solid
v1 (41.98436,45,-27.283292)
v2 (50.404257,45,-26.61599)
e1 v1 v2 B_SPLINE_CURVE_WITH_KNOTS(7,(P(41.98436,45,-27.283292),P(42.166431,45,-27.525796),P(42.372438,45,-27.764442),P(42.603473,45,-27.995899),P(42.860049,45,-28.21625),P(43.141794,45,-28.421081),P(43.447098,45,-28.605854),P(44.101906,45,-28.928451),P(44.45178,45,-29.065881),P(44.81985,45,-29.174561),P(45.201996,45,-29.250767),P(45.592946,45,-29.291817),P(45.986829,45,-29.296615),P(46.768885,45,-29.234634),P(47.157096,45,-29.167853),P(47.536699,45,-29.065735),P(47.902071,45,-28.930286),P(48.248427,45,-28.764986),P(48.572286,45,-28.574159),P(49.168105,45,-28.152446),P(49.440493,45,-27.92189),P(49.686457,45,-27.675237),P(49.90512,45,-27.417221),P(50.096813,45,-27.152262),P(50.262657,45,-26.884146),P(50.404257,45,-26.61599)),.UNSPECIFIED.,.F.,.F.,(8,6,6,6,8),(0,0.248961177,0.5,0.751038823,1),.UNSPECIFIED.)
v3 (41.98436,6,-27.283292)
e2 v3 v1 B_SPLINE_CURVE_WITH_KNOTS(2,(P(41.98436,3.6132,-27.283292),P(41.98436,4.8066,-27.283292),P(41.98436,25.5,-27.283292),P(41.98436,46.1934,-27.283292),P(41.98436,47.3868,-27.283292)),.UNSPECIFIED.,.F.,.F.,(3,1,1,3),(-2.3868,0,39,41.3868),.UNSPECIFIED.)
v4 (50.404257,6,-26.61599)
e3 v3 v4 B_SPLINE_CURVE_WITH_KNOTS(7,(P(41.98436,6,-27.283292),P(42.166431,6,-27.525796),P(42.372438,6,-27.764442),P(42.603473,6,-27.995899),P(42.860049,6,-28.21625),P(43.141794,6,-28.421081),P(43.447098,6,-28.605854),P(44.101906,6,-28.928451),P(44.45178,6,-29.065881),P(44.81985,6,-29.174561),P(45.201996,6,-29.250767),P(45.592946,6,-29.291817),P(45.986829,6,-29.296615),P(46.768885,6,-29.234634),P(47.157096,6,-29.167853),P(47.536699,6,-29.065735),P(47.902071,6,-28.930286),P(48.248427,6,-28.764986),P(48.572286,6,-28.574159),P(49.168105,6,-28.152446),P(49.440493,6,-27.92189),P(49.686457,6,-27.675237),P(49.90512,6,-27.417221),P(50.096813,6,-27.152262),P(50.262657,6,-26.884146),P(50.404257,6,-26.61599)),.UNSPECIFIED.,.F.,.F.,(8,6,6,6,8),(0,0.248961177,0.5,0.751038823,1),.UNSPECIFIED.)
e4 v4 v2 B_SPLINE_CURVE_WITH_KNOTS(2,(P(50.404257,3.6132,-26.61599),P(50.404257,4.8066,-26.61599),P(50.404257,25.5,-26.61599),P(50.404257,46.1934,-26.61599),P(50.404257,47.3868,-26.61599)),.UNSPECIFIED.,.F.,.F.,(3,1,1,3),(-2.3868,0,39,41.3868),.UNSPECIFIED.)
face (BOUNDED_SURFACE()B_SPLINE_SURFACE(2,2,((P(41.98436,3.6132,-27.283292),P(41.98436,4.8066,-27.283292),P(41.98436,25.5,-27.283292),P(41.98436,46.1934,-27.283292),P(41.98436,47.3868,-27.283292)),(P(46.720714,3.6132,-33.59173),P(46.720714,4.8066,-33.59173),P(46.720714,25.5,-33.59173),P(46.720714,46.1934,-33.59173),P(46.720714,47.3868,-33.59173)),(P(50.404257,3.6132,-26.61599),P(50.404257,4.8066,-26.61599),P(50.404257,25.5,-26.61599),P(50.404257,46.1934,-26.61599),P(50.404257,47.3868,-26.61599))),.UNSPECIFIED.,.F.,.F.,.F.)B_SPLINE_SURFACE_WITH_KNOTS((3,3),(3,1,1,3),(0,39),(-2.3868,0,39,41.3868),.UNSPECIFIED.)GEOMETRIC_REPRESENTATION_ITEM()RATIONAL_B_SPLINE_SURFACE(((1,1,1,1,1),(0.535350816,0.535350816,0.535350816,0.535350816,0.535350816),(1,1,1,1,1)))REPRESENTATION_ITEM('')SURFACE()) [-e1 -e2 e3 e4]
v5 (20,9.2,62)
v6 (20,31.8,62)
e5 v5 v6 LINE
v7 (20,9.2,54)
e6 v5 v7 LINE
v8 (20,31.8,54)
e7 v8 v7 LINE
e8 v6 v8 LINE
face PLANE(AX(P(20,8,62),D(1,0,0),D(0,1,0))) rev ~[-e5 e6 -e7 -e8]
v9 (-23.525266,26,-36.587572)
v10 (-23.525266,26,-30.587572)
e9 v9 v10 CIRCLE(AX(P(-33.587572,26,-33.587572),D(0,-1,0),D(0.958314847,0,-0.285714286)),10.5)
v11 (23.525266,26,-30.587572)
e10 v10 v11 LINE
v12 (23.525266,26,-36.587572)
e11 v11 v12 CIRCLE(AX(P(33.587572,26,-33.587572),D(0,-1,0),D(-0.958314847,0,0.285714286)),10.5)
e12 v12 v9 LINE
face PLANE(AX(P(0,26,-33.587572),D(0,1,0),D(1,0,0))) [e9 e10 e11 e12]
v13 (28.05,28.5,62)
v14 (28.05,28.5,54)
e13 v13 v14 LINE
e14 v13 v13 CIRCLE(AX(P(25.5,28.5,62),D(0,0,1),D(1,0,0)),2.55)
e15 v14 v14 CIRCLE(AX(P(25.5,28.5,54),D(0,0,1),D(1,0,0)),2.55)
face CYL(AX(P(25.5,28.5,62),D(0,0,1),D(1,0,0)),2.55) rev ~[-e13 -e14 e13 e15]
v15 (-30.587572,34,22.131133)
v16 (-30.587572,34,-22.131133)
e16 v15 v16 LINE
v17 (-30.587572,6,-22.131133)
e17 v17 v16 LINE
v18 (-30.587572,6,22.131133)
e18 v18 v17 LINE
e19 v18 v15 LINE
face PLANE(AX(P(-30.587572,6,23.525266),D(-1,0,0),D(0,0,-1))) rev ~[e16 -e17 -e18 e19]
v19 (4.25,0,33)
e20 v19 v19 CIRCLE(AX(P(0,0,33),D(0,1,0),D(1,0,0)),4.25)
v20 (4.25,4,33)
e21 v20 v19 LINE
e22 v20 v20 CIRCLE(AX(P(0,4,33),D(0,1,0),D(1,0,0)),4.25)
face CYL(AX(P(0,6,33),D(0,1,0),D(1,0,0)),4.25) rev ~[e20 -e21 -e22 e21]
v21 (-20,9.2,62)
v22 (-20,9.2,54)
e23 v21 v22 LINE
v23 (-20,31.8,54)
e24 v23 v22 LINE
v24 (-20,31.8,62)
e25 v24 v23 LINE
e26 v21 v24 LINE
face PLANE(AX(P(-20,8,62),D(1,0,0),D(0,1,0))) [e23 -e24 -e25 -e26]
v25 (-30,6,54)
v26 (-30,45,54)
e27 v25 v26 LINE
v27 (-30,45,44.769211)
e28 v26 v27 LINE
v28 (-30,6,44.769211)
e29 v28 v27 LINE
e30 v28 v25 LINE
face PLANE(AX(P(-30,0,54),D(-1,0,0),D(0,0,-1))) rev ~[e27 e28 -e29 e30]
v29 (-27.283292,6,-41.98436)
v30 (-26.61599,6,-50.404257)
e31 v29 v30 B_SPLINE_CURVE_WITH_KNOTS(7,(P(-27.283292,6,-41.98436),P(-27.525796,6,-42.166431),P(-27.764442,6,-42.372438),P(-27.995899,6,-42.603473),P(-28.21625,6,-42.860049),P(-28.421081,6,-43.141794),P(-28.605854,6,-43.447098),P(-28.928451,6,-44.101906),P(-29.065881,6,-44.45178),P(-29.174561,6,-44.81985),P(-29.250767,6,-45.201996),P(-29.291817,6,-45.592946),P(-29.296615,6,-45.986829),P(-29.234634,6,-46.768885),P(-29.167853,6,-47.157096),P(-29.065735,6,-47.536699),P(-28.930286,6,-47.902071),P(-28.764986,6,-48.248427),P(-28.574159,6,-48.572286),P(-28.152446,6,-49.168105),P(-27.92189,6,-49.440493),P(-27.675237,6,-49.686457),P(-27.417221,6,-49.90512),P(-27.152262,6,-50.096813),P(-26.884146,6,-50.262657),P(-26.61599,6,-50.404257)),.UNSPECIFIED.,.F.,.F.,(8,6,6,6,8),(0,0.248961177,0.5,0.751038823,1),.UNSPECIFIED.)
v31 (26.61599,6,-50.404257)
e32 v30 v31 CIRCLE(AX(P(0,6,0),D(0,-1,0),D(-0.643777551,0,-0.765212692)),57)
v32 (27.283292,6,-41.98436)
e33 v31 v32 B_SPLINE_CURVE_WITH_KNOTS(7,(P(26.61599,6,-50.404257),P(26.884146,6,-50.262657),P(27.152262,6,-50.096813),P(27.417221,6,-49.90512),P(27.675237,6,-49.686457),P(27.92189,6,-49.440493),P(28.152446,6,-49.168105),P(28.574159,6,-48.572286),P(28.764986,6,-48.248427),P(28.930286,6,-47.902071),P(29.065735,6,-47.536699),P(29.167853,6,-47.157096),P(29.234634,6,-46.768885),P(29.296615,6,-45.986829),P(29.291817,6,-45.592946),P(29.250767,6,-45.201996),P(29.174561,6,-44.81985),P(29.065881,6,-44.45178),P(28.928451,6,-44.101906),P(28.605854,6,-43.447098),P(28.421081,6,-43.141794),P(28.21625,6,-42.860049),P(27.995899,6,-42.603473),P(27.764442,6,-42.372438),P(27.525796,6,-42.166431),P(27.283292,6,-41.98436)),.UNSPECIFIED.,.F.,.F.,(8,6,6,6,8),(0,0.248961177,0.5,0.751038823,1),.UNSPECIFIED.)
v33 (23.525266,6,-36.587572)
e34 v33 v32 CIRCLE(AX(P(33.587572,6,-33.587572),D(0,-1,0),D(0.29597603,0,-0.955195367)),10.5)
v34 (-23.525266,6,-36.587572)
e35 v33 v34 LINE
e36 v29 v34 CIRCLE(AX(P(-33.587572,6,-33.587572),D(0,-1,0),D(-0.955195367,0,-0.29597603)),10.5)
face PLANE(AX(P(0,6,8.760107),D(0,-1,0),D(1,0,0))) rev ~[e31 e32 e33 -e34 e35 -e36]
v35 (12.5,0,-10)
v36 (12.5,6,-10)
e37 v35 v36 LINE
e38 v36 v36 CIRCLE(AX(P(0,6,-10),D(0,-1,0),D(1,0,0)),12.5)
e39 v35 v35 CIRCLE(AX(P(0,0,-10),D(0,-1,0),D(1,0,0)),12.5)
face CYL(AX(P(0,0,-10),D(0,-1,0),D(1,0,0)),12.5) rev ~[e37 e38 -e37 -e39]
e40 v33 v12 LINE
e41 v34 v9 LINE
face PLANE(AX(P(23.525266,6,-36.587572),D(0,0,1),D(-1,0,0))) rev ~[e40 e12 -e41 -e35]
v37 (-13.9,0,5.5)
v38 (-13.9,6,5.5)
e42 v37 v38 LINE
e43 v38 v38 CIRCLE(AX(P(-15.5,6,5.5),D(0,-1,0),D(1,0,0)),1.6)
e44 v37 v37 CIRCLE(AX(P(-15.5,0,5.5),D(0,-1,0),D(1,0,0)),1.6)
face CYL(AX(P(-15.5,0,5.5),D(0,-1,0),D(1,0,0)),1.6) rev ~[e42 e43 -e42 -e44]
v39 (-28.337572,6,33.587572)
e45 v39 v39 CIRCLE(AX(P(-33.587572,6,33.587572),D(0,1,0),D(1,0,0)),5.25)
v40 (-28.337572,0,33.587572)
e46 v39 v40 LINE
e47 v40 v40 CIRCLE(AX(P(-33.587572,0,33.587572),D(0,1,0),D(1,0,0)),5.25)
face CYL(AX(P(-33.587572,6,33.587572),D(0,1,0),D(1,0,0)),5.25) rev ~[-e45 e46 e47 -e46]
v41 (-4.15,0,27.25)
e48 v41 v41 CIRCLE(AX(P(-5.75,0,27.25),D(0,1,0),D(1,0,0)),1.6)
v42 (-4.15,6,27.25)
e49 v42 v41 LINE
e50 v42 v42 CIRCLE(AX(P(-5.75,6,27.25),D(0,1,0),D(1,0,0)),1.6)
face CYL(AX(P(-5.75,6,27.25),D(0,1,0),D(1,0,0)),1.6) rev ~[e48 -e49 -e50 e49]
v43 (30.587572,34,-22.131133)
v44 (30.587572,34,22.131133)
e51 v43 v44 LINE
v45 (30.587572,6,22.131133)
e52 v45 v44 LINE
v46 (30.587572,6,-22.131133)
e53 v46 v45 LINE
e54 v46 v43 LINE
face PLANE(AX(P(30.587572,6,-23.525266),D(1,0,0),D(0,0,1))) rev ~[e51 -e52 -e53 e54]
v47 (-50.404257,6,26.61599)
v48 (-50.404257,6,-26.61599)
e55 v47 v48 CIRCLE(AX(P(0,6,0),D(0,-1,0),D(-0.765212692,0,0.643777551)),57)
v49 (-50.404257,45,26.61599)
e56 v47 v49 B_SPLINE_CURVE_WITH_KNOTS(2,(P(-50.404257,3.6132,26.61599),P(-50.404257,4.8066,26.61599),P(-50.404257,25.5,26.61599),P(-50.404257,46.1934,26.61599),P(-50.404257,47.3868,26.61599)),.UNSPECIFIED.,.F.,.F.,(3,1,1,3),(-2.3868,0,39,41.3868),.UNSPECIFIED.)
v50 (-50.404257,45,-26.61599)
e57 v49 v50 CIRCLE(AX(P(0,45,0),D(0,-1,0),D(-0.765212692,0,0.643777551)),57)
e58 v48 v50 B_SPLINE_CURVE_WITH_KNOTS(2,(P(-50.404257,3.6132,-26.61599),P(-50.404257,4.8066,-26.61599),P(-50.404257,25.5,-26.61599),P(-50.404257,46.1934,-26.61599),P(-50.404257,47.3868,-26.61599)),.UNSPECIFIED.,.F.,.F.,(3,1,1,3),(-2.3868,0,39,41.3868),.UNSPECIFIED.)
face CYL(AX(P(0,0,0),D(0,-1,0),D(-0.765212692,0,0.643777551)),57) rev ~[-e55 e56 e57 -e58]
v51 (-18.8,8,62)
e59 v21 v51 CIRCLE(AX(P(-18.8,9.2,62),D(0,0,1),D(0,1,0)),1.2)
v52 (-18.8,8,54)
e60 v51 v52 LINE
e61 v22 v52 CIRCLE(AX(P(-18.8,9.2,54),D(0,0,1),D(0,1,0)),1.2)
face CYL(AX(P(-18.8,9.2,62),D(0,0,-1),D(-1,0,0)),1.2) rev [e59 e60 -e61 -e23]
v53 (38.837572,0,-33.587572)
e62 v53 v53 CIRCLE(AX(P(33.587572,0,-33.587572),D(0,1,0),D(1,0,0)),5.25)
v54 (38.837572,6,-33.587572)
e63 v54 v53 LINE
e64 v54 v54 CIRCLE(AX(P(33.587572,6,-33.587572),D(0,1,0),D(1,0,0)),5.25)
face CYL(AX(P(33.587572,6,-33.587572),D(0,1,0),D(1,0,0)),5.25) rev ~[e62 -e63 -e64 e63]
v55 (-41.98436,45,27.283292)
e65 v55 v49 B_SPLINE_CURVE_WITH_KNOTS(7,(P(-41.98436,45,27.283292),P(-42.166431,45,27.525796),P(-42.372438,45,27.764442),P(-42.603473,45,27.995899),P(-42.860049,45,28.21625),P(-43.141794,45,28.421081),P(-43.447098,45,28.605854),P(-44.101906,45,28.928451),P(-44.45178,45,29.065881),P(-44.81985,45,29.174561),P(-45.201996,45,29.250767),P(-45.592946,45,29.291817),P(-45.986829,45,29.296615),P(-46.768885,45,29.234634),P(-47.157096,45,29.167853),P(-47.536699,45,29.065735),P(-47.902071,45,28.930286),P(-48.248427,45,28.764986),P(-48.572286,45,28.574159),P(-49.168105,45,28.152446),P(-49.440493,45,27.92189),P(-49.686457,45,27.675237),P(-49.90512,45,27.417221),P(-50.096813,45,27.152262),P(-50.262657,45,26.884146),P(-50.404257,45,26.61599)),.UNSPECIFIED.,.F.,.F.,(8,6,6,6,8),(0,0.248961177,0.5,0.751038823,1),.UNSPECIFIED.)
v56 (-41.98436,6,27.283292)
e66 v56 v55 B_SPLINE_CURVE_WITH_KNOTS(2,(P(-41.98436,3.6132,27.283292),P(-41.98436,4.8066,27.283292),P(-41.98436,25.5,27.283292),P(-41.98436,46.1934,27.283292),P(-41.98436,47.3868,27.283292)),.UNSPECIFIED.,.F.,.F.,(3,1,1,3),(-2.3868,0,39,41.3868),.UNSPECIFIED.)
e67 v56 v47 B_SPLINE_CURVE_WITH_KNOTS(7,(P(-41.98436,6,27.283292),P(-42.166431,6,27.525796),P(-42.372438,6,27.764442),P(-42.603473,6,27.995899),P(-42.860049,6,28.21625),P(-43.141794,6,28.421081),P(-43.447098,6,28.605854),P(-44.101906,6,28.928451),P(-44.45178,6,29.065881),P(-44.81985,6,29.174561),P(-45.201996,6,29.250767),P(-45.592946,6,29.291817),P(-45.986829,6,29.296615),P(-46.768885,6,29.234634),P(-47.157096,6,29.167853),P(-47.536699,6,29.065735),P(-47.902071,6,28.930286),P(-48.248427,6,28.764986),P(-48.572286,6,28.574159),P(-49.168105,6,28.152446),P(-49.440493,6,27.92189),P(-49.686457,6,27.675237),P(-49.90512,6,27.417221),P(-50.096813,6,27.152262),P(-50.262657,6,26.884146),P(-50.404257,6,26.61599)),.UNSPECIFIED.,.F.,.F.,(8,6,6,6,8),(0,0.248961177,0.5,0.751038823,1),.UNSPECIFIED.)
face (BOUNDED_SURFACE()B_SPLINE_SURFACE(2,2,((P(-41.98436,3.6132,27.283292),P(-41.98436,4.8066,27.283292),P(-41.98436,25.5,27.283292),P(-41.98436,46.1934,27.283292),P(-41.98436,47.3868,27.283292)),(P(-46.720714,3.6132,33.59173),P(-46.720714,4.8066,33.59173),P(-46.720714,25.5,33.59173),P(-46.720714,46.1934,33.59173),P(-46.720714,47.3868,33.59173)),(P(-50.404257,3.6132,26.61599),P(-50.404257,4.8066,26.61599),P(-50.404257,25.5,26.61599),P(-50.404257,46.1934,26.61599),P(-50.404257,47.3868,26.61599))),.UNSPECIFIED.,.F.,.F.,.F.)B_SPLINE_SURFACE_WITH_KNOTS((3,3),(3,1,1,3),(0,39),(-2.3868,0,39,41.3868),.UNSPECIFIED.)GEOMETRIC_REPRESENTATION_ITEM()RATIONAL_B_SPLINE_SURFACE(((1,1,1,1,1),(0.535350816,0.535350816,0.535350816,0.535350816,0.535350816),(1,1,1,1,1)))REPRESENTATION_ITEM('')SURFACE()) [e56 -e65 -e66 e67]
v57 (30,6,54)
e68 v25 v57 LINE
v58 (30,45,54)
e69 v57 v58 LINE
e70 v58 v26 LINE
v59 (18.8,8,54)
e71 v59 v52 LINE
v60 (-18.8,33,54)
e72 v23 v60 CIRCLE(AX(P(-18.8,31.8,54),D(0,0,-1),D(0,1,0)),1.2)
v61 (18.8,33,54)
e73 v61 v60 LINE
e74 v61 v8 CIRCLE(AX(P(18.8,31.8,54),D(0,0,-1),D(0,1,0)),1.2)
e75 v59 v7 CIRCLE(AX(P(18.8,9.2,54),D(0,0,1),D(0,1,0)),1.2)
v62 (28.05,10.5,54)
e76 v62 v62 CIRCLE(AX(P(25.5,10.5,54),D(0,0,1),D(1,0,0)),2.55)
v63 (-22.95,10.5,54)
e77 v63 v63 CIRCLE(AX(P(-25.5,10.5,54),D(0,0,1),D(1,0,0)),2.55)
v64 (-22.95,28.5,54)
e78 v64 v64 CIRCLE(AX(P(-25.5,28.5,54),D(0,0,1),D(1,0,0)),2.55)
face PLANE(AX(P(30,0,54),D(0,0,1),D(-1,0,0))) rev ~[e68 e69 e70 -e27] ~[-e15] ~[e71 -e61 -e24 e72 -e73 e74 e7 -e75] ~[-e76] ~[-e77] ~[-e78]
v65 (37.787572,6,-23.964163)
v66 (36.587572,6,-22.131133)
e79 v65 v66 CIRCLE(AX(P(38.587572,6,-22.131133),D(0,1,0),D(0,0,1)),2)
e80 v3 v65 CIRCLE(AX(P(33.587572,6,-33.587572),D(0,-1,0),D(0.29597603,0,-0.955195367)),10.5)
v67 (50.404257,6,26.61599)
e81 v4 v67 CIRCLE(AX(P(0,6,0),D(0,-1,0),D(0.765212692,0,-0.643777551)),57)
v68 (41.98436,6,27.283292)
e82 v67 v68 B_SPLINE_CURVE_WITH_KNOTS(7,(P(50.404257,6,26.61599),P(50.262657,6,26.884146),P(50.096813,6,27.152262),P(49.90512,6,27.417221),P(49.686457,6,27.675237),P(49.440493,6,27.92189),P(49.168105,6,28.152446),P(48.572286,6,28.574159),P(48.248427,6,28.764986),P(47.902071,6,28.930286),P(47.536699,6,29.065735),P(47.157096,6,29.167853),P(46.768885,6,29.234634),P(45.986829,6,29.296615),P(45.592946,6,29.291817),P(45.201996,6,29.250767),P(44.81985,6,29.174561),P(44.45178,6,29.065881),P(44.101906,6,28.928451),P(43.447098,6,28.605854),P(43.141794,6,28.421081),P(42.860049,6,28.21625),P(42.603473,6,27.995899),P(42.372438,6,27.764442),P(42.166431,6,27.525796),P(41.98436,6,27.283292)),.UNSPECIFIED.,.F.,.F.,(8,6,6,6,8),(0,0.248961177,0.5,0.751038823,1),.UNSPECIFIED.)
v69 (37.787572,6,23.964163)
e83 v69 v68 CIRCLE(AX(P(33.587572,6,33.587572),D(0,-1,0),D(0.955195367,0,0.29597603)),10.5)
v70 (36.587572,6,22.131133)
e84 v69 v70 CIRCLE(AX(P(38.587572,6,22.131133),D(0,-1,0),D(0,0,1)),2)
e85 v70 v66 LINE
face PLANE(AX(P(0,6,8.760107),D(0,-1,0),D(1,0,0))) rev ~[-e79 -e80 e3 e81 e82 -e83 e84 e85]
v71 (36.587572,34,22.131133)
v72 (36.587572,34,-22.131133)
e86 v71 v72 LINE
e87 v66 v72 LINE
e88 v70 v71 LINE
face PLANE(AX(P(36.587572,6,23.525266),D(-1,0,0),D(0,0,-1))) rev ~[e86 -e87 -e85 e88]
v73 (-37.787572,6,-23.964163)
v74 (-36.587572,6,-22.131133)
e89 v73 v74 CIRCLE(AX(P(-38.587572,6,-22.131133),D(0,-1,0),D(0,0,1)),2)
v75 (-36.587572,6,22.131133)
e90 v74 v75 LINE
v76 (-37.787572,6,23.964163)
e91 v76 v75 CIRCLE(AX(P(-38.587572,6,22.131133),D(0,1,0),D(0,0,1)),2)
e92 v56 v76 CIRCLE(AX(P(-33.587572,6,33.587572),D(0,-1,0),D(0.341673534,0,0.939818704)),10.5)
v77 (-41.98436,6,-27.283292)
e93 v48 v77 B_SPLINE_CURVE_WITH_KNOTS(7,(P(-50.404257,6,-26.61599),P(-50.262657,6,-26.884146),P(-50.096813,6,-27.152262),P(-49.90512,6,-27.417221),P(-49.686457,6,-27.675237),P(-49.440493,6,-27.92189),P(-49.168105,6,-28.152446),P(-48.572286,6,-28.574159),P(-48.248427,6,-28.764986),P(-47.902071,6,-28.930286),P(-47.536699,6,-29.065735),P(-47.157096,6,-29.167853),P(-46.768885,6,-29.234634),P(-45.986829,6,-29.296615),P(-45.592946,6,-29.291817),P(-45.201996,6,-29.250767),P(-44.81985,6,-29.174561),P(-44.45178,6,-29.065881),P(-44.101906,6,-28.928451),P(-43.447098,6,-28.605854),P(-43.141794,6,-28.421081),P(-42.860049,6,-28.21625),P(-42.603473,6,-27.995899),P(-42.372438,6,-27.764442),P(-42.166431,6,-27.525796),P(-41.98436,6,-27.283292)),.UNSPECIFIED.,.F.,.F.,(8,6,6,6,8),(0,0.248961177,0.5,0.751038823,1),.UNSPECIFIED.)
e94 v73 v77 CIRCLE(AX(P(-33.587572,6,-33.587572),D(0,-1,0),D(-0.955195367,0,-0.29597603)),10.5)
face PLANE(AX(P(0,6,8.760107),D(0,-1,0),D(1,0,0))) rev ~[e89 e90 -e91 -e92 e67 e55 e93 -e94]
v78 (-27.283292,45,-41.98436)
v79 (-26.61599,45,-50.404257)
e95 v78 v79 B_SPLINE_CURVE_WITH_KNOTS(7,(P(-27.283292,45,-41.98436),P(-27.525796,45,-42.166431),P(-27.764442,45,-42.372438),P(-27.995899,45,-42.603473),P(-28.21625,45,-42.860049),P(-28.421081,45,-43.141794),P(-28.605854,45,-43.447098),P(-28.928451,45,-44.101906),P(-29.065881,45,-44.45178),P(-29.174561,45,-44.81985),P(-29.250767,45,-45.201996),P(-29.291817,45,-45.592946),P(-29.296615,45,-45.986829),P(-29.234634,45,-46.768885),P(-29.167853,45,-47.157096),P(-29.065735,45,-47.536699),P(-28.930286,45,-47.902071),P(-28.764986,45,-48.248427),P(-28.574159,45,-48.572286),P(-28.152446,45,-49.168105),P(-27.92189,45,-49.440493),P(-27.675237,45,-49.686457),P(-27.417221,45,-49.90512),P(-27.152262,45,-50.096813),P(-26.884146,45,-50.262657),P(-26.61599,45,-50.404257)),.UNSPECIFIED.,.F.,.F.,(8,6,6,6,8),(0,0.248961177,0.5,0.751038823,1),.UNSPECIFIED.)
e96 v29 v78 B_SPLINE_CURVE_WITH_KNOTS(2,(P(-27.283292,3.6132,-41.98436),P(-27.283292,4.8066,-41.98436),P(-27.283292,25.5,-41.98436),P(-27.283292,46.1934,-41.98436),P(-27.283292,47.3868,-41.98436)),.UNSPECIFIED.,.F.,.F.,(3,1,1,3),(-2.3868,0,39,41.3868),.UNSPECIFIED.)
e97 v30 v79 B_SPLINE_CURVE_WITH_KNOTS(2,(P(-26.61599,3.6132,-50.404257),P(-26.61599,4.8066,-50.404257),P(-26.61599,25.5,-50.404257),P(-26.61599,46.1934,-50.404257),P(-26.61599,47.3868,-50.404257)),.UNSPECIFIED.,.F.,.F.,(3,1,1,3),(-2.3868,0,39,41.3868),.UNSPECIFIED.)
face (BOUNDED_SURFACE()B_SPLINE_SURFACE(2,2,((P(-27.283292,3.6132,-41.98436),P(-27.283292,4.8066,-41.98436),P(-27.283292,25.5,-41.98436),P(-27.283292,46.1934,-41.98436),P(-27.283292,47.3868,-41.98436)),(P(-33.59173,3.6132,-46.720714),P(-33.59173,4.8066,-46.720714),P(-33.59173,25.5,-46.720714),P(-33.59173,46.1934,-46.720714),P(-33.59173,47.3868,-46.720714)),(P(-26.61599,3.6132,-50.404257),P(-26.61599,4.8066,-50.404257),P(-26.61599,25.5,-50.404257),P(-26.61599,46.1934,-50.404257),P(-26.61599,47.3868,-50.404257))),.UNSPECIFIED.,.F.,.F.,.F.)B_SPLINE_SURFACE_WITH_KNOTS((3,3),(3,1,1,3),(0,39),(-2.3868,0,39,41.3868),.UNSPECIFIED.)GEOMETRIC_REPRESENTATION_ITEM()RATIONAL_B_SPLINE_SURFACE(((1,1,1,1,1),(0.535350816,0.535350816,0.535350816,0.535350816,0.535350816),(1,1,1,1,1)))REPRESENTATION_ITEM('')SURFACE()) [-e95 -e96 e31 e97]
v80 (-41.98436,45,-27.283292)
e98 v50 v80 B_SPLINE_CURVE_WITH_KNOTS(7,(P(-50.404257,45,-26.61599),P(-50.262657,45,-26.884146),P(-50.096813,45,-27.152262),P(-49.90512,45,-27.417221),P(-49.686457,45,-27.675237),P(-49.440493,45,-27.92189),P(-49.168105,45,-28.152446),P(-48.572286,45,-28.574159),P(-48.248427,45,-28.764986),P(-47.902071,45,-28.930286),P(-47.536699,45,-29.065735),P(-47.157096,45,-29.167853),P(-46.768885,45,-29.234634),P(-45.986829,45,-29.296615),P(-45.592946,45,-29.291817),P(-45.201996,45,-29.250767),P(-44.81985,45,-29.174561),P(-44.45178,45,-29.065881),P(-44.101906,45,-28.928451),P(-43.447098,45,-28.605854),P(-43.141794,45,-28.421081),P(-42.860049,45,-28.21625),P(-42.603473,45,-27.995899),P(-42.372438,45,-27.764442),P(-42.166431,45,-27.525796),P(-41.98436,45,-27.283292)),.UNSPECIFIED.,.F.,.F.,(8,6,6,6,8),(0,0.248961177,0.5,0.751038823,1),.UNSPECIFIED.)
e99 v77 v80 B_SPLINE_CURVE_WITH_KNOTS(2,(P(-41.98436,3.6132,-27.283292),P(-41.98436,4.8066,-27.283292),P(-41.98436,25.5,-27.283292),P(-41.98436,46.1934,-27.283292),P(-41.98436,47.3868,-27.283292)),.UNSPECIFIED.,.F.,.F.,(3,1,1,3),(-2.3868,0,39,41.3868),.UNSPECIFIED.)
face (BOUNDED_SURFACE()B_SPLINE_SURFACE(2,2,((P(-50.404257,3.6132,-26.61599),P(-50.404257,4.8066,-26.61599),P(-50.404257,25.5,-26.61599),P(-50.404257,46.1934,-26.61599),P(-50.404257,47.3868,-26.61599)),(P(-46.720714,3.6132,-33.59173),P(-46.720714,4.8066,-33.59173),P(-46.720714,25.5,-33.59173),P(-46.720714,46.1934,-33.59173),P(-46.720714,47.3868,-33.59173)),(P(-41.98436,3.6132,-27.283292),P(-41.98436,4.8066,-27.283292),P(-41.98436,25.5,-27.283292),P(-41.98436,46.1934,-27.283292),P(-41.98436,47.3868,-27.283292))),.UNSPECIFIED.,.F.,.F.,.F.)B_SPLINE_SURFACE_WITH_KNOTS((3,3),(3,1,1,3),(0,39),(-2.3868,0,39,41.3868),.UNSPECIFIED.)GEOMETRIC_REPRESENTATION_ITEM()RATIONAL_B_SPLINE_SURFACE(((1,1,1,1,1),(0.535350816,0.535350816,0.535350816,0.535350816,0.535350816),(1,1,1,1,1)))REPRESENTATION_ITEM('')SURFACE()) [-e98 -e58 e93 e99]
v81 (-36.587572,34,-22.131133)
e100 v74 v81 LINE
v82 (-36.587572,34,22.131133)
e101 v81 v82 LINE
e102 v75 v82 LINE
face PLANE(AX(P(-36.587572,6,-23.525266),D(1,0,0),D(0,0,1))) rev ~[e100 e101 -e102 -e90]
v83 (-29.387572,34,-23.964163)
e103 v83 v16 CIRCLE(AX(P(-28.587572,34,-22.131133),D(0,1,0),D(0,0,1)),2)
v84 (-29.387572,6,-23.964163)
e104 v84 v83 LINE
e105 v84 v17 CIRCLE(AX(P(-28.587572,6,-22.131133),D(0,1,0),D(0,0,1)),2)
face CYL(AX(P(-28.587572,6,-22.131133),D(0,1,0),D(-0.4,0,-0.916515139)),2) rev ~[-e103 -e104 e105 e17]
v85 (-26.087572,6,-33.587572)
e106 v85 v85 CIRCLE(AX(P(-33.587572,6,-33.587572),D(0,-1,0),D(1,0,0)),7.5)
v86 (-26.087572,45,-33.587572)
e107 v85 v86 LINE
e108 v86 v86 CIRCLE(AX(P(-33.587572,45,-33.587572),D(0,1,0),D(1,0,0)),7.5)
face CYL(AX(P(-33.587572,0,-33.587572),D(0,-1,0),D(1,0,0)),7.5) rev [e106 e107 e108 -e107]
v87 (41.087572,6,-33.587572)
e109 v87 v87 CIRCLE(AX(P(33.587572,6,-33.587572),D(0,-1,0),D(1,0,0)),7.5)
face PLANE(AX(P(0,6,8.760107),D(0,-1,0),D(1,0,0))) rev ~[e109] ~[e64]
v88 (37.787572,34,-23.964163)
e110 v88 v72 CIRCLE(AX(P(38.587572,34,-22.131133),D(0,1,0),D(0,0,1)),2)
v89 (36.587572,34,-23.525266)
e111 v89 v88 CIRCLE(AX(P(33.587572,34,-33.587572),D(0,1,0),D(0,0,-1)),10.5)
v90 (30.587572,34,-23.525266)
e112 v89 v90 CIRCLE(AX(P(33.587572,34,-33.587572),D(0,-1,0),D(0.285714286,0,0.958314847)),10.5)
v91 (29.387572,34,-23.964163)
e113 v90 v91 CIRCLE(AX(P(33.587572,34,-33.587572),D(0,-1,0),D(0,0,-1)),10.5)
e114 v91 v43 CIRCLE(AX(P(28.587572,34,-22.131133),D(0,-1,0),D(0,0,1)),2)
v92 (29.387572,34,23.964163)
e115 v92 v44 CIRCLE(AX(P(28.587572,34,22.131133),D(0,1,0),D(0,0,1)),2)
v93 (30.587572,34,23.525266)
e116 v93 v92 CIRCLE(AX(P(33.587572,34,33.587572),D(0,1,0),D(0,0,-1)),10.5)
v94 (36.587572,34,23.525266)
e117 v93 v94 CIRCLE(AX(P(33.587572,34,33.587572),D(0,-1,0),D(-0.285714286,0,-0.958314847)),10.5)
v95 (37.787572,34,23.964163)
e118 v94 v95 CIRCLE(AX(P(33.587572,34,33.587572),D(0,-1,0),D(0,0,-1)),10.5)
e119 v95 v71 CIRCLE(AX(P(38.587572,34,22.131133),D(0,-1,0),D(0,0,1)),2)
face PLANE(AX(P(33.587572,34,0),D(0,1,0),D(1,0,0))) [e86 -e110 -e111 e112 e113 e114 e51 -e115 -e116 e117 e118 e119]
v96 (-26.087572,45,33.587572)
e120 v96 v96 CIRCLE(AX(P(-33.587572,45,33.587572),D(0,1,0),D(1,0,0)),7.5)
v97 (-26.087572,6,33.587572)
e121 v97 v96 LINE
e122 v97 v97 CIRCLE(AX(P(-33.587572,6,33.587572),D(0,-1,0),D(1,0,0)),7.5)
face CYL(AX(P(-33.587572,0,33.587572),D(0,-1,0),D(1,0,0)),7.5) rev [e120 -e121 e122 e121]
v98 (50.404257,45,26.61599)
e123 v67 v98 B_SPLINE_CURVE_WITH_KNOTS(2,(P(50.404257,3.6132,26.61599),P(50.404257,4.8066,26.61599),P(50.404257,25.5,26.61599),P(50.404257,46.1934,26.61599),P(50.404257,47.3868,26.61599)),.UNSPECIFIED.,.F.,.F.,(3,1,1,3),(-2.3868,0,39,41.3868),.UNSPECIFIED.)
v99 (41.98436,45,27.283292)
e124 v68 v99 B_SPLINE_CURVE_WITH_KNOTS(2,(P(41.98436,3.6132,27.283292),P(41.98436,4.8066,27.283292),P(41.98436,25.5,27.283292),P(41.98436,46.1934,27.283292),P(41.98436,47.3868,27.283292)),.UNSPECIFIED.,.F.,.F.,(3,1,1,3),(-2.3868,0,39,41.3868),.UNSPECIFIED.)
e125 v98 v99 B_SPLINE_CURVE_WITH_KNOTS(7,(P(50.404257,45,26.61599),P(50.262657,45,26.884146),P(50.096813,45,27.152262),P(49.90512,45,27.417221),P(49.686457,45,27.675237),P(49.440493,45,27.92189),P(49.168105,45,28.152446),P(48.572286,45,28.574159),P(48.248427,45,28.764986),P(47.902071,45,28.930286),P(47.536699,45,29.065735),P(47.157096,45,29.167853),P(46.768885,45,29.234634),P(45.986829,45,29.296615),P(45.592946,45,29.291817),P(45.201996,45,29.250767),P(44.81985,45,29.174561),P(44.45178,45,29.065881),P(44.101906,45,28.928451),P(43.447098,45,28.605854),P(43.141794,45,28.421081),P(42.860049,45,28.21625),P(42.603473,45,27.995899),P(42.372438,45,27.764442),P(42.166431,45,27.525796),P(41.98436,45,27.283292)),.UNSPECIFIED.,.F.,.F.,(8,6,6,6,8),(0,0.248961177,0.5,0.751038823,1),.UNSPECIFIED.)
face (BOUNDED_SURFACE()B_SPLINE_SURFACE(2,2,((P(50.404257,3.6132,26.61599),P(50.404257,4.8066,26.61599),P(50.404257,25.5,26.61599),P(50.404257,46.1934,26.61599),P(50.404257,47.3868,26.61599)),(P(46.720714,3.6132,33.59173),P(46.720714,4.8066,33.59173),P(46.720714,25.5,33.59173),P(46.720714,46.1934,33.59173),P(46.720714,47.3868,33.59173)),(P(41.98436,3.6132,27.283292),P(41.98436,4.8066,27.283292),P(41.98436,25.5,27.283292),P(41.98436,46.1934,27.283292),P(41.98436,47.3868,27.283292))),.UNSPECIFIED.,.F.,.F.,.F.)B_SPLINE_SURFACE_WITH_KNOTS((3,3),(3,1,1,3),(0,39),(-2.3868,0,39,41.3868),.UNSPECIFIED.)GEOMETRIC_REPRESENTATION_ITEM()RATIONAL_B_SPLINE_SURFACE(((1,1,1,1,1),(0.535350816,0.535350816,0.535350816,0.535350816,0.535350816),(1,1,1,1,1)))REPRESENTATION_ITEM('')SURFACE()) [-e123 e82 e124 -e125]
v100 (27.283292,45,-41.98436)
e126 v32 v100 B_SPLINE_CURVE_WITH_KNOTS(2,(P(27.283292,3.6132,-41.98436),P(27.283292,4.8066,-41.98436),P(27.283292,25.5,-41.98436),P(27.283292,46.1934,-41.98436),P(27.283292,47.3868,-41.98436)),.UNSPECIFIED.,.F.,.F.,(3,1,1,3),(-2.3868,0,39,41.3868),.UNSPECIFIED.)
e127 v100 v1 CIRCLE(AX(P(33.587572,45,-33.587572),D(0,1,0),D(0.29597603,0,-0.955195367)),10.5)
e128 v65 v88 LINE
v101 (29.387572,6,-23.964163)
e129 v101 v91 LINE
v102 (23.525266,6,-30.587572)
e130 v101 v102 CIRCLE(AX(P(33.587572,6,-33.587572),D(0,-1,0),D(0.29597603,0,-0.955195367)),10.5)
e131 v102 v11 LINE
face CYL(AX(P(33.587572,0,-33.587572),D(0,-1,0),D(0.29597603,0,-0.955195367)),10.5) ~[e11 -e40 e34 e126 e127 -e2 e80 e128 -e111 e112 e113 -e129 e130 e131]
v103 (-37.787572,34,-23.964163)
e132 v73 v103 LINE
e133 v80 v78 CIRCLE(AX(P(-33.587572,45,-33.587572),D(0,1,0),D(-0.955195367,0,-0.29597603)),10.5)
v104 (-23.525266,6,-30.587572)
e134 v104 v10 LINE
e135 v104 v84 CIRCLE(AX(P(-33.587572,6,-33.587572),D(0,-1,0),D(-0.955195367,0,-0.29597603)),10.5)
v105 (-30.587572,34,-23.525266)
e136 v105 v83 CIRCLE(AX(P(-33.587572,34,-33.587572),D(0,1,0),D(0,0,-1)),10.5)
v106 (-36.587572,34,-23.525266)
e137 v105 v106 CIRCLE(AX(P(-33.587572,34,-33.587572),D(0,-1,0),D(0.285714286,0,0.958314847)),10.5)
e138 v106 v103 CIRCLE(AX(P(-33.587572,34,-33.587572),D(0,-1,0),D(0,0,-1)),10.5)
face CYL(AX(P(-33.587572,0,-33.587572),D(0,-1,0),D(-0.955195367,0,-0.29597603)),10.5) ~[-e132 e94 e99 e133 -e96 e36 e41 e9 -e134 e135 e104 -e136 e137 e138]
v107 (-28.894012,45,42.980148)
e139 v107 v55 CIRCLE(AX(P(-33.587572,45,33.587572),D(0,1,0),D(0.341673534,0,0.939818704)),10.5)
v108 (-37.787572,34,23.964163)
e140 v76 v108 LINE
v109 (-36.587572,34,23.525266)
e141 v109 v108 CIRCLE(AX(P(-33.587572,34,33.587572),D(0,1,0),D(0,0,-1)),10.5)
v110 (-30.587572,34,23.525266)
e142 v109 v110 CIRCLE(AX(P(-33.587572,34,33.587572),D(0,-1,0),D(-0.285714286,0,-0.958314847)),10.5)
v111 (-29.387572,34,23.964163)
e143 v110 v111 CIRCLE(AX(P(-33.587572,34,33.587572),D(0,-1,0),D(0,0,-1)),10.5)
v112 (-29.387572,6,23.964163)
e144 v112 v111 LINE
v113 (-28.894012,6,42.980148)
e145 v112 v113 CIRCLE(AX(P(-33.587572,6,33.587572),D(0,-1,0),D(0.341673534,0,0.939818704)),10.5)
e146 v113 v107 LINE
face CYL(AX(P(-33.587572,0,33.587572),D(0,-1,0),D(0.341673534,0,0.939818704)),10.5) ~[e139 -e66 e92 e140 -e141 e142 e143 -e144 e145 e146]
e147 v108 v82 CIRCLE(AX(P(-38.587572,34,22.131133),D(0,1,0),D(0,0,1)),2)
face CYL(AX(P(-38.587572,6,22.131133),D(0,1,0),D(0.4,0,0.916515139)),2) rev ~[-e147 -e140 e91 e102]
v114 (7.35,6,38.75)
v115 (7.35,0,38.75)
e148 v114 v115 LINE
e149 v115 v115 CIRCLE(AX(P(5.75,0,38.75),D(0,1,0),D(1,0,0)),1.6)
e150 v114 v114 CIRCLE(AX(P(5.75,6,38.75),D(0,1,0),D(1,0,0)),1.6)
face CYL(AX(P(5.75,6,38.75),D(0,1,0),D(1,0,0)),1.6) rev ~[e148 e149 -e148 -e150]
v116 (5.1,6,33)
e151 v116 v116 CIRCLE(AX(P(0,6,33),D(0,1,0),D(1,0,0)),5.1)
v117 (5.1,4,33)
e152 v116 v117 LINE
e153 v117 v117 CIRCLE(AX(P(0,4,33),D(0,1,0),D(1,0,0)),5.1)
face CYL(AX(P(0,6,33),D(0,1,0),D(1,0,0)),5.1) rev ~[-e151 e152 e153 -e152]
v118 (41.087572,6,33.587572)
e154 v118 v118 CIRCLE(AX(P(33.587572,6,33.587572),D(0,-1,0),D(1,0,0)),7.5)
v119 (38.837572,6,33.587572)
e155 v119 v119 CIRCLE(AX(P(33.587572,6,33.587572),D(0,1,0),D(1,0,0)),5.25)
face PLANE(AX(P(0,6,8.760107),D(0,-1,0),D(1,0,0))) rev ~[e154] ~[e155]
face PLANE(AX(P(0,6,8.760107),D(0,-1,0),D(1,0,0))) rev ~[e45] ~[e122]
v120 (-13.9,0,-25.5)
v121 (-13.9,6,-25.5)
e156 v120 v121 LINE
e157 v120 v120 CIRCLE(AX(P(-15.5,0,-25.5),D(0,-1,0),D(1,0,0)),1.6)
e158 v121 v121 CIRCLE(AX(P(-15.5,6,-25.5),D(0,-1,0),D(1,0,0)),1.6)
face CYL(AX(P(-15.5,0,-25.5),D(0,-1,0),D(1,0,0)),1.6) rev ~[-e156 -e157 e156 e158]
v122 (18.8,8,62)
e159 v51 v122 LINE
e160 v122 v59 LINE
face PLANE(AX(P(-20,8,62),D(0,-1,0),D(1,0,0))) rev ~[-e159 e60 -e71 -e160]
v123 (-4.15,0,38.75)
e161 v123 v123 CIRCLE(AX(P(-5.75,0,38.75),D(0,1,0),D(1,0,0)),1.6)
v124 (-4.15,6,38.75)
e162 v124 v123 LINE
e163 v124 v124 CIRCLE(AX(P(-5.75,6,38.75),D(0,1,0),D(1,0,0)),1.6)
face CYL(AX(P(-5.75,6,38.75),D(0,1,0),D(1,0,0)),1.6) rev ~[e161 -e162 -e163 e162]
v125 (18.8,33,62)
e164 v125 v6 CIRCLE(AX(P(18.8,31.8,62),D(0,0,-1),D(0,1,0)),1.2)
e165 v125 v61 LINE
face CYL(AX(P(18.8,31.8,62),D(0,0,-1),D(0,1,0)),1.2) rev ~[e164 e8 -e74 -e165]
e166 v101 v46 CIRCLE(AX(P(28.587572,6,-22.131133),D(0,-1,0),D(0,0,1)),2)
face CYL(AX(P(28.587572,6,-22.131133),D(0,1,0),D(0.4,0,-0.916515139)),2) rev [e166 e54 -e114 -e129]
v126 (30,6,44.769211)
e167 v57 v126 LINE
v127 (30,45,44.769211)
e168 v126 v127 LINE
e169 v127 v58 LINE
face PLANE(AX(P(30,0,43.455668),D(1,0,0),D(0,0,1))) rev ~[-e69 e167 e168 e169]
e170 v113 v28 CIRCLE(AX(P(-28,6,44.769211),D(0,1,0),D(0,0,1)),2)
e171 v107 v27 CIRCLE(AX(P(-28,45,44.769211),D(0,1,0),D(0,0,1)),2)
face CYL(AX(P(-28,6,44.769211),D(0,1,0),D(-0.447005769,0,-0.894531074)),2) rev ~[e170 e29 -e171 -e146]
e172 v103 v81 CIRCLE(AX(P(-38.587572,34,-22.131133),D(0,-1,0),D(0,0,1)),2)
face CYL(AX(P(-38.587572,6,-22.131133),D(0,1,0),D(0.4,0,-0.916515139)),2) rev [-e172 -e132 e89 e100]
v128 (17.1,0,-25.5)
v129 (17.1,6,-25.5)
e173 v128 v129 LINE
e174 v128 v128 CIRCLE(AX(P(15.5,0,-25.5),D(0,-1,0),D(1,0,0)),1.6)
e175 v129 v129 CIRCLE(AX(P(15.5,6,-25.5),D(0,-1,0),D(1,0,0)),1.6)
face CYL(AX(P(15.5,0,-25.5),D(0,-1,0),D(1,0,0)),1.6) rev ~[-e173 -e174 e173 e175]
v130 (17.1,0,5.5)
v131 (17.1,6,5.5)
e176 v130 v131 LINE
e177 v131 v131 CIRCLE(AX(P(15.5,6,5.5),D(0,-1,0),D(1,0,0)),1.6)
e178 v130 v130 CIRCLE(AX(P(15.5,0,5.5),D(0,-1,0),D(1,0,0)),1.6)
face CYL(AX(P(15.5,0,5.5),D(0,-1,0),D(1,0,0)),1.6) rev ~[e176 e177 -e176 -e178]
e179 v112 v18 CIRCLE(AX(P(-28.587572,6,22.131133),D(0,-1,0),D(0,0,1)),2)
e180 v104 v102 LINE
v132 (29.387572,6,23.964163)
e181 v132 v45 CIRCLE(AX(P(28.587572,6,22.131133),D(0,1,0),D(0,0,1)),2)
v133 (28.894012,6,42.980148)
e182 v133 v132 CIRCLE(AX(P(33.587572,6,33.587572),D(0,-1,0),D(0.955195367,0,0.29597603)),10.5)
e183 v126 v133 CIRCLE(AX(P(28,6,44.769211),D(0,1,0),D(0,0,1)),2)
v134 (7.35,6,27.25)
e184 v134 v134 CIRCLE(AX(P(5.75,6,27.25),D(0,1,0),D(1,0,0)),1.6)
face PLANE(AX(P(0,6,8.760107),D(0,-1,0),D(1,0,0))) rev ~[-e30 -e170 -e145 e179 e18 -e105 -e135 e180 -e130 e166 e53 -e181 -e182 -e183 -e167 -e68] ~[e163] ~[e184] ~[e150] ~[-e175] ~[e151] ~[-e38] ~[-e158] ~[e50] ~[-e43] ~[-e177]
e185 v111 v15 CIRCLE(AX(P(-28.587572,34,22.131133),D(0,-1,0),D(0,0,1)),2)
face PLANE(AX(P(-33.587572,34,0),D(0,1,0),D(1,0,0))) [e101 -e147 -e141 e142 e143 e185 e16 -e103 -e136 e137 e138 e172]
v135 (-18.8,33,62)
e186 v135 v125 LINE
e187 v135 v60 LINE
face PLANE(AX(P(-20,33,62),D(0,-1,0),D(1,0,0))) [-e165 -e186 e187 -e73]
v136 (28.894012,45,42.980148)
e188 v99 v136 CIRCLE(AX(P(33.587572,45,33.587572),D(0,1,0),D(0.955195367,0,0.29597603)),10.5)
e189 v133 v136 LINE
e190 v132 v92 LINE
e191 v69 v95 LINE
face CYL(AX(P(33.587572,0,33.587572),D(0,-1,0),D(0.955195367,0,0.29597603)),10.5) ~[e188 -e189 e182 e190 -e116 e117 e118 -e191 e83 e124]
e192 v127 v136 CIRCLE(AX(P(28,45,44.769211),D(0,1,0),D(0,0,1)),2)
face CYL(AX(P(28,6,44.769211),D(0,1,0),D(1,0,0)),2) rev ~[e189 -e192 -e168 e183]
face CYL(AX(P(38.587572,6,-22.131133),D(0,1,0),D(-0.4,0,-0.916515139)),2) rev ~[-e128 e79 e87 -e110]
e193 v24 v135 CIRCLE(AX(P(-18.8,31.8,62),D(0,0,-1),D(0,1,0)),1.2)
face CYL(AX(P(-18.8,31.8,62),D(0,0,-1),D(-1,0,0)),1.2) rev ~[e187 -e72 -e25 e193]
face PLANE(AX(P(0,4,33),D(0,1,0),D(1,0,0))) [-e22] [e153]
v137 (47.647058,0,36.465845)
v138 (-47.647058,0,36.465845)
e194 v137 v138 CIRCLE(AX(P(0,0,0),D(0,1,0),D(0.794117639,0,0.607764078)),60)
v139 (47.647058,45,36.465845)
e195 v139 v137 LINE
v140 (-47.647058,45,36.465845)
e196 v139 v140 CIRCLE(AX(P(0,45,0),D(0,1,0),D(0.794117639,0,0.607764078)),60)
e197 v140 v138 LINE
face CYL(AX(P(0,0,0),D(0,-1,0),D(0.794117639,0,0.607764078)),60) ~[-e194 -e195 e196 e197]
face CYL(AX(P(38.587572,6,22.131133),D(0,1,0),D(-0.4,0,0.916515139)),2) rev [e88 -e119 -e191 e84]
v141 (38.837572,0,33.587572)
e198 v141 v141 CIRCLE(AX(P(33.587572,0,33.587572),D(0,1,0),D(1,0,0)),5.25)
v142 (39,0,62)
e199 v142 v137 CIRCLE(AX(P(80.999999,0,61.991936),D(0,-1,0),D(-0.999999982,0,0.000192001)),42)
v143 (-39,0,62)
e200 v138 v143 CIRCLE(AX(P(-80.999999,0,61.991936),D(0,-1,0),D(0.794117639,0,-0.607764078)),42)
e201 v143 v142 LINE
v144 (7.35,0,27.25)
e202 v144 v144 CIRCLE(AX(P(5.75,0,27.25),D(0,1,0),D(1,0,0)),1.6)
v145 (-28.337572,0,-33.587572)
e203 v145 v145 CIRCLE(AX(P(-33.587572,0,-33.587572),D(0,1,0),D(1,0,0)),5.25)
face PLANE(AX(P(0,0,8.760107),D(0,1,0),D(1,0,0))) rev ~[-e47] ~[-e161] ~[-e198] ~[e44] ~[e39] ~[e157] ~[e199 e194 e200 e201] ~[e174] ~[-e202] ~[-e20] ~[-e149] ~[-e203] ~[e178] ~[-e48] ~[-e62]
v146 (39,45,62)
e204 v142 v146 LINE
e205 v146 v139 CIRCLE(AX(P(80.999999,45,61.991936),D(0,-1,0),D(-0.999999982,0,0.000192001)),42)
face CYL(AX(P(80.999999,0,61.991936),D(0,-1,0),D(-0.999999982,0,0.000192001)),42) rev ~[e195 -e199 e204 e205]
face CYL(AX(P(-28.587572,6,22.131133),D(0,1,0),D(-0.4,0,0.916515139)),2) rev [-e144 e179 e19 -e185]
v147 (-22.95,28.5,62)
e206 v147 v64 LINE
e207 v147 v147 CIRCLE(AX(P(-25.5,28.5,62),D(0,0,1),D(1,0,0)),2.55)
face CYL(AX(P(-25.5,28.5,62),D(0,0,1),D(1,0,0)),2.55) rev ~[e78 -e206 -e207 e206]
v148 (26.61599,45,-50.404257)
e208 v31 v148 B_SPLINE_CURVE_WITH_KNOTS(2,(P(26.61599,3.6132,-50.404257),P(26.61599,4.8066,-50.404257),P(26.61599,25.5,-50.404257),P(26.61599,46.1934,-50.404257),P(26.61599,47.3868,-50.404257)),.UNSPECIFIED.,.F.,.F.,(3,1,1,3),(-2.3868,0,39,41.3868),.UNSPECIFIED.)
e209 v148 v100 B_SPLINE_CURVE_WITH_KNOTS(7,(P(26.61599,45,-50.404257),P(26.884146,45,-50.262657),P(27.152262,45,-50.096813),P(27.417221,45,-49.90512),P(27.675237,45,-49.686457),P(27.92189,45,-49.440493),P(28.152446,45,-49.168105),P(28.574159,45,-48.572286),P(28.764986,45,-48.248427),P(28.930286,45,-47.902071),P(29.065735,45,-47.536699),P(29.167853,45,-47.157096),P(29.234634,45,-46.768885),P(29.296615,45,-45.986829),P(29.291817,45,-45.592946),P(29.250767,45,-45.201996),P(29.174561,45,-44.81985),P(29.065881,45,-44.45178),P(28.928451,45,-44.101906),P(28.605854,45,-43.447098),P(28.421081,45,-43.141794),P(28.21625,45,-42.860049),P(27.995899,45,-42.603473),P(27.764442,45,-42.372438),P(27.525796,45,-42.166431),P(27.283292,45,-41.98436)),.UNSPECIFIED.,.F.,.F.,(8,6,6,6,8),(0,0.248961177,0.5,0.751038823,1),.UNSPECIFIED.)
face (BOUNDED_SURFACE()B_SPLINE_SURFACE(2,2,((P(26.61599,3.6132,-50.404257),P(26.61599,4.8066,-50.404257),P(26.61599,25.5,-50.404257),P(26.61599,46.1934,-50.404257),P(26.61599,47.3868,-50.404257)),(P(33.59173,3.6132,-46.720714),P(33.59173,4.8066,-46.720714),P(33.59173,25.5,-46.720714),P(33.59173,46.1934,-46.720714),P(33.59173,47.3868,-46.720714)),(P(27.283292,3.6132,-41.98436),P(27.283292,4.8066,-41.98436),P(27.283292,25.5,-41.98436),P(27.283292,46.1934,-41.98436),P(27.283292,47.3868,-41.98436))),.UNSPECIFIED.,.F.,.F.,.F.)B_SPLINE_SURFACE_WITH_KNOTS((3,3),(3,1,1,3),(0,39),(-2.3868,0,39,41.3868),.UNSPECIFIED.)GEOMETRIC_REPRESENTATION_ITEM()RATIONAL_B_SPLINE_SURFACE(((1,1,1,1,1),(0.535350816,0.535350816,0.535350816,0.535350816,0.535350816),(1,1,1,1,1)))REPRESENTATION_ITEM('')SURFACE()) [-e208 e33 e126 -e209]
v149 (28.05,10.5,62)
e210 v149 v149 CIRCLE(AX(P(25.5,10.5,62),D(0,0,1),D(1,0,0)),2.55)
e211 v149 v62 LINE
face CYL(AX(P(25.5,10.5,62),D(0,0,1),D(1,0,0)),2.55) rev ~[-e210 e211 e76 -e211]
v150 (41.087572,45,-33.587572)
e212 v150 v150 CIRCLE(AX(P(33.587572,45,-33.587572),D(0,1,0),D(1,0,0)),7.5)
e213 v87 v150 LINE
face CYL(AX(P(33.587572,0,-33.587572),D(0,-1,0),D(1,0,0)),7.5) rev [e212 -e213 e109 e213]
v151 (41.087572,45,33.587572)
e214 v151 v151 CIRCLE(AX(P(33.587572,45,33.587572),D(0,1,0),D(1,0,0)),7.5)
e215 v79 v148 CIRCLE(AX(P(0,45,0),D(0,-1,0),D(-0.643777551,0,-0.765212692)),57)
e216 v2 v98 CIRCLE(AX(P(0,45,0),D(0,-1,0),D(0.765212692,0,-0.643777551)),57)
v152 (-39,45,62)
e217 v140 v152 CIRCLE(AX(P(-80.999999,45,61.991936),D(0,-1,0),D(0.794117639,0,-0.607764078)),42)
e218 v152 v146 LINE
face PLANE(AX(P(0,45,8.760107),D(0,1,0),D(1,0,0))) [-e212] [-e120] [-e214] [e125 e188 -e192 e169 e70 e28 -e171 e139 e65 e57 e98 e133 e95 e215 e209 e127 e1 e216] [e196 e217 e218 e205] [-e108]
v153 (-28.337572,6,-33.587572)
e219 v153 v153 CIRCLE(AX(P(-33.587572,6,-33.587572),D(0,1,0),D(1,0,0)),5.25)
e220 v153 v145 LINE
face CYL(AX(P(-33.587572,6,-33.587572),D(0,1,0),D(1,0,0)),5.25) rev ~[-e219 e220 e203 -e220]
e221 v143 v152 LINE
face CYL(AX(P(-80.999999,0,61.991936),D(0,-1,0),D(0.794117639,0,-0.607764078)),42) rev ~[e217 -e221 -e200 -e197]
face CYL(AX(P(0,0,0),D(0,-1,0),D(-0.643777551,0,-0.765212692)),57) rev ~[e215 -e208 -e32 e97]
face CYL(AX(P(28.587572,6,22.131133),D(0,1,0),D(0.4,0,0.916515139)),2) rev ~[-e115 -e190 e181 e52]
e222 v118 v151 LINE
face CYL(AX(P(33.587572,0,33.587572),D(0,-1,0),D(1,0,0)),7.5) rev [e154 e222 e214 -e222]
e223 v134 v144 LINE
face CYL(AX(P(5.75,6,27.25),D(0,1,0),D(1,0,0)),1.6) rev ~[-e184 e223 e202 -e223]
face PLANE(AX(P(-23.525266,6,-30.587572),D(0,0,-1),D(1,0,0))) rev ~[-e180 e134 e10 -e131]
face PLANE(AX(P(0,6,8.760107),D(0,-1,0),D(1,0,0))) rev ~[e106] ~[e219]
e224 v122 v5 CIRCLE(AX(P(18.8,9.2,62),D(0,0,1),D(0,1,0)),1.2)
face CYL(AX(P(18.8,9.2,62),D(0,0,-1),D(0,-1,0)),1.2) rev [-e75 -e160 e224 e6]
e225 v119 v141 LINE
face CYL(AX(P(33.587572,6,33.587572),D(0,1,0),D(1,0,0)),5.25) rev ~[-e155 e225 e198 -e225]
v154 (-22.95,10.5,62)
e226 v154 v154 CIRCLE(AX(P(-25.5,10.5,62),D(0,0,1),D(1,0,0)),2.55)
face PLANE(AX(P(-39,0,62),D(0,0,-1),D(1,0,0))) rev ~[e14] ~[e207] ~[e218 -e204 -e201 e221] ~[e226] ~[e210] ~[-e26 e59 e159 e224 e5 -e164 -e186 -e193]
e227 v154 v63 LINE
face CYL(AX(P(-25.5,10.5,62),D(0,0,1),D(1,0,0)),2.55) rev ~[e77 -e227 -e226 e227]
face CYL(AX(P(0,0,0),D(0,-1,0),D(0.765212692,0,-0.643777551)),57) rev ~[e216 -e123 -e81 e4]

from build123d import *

# Parameters (mm, degrees)
SKETCH1_R           = 7.5
BOSS_EXTRUDE1_DEPTH = 45
BOSS_EXTRUDE2_DEPTH = 6
SKETCH3_R           = 5.25
SKETCH3_R_2         = 4.25
SKETCH3_R_3         = 1.6
CUT_EXTRUDE1_DEPTH  = 7
FILLET1_R           = 5
SKETCH4_R           = 5.1
CUT_EXTRUDE2_DEPTH  = 2
SKETCH5_R           = 12.5
SKETCH5_R_2         = 1.6
CUT_EXTRUDE3_DEPTH  = 46.0000001
CUT_EXTRUDE4_REACH  = 124
SKETCH6_W           = 40
SKETCH6_H           = 25
CUT_EXTRUDE5_REACH  = 124
SKETCH7_R           = 2.55
BOSS_EXTRUDE3_DEPTH = 28
FILLET2_R           = 2
BOSS_EXTRUDE4_DEPTH = 20
FILLET3_R           = 1.2


with BuildPart() as part:
    # Sketch1 → Boss-Extrude1 (new body)
    with BuildSketch(Plane(origin=(0, 0, 0), x_dir=(1, 0, 0), z_dir=(0, 1, 0))):
        with BuildLine():
            ThreePointArc((-47.647058368, -36.465844689), (-41.21916632, -48.520286728), (-39, -62))
            Line((-39, -62), (39, -62))
            ThreePointArc((39, -62), (41.21916632, -48.520286728), (47.647058368, -36.465844689))
            ThreePointArc((47.647058368, -36.465844689), (0, 60), (-47.647058368, -36.465844689))
        make_face()
        with Locations((-33.587572106, -33.587572106)):
            Circle(SKETCH1_R, mode=Mode.SUBTRACT)
        with Locations((33.587572106, -33.587572106)):
            Circle(SKETCH1_R, mode=Mode.SUBTRACT)
        with Locations((-33.587572106, 33.587572106)):
            Circle(SKETCH1_R, mode=Mode.SUBTRACT)
        with BuildLine():
            Line((30, -54), (-30, -54))
            Line((-30, -54), (-30, -48.466483264))
            ThreePointArc((-30, -48.466483264), (-33.435692219, -46.163345696), (-36.695320422, -43.617123463))
            ThreePointArc((-36.695320422, -43.617123463), (-33.334442408, -44.084520489), (-30, -43.455668497))
            ThreePointArc((-30, -43.455668497), (-28.91848754, -24.182804735), (-43.617123463, -36.695320422))
            ThreePointArc((-43.617123463, -36.695320422), (-57, 0), (-43.617123463, 36.695320422))
            ThreePointArc((-43.617123463, 36.695320422), (-26.162950904, 26.162950904), (-36.695320422, 43.617123463))
            ThreePointArc((-36.695320422, 43.617123463), (0, 57), (36.695320422, 43.617123463))
            ThreePointArc((36.695320422, 43.617123463), (26.162950904, 26.162950904), (43.617123463, 36.695320422))
            ThreePointArc((43.617123463, 36.695320422), (57, 0), (43.617123463, -36.695320422))
            ThreePointArc((43.617123463, -36.695320422), (28.91848754, -24.182804735), (30, -43.455668497))
            ThreePointArc((30, -43.455668497), (33.334442408, -44.084520489), (36.695320422, -43.617123463))
            ThreePointArc((36.695320422, -43.617123463), (33.435692219, -46.163345696), (30, -48.466483264))
            Line((30, -48.466483264), (30, -54))
        make_face(mode=Mode.SUBTRACT)
        with Locations((33.587572106, 33.587572106)):
            Circle(SKETCH1_R, mode=Mode.SUBTRACT)
        with BuildLine():
            Line((30, -43.455668497), (30, -48.466483264))
            ThreePointArc((30, -48.466483264), (33.435692219, -46.163345696), (36.695320422, -43.617123463))
            ThreePointArc((36.695320422, -43.617123463), (33.334442408, -44.084520489), (30, -43.455668497))
        make_face()
        with BuildLine():
            ThreePointArc((-36.695320422, -43.617123463), (-33.435692219, -46.163345696), (-30, -48.466483264))
            Line((-30, -48.466483264), (-30, -43.455668497))
            ThreePointArc((-30, -43.455668497), (-33.334442408, -44.084520489), (-36.695320422, -43.617123463))
        make_face()
    extrude(amount=BOSS_EXTRUDE1_DEPTH)

    # Sketch2 → Boss-Extrude2 (add)
    with BuildSketch(Plane.XZ):
        with BuildLine():
            Line((39, 62), (-39, 62))
            ThreePointArc((-39, 62), (-41.21916632, 48.520286728), (-47.647058368, 36.465844689))
            ThreePointArc((-47.647058368, 36.465844689), (0, -60), (47.647058368, 36.465844689))
            ThreePointArc((47.647058368, 36.465844689), (41.21916632, 48.520286728), (39, 62))
        make_face()
    extrude(amount=-BOSS_EXTRUDE2_DEPTH)

    # Sketch3 → Cut-Extrude1 (cut, through all)
    with BuildSketch(Plane(origin=(0, 6, 0), x_dir=(1, 0, 0), z_dir=(0, 1, 0))):
        with Locations((-33.587572106, 33.587572106)):
            Circle(SKETCH3_R)
        with Locations((33.587572106, 33.587572106)):
            Circle(SKETCH3_R)
        with Locations((33.587572106, -33.587572106)):
            Circle(SKETCH3_R)
        with Locations((-33.587572106, -33.587572106)):
            Circle(SKETCH3_R)
        with Locations((0, -33)):
            Circle(SKETCH3_R_2)
        with Locations((-5.75, -27.25)):
            Circle(SKETCH3_R_3)
        with Locations((5.75, -27.25)):
            Circle(SKETCH3_R_3)
        with Locations((5.75, -38.75)):
            Circle(SKETCH3_R_3)
        with Locations((-5.75, -38.75)):
            Circle(SKETCH3_R_3)
    extrude(amount=-CUT_EXTRUDE1_DEPTH, mode=Mode.SUBTRACT)

    # Fillet1
    fillet1_edges = [part.edges().sort_by_distance(p)[0] for p in [
        (43.617123463, 25.5, 36.695320422),
        (43.617123463, 25.5, -36.695320422),
        (36.695320422, 25.5, -43.617123463),
        (-36.695320422, 25.5, -43.617123463),
        (-43.617123463, 25.5, -36.695320422),
        (-43.617123463, 25.5, 36.695320422),
    ]]
    fillet(fillet1_edges, radius=FILLET1_R)

    # Sketch4 → Cut-Extrude2 (cut)
    with BuildSketch(Plane(origin=(0, 6, 0), x_dir=(1, 0, 0), z_dir=(0, 1, 0))):
        with Locations((0, -33)):
            Circle(SKETCH4_R)
    extrude(amount=-CUT_EXTRUDE2_DEPTH, mode=Mode.SUBTRACT)

    # Sketch5 → Cut-Extrude3 (cut, through all)
    with BuildSketch(Plane.XZ):
        with Locations((0, -10)):
            Circle(SKETCH5_R)
        with Locations((15.5, 5.5)):
            Circle(SKETCH5_R_2)
        with Locations((-15.5, 5.5)):
            Circle(SKETCH5_R_2)
        with Locations((-15.5, -25.5)):
            Circle(SKETCH5_R_2)
        with Locations((15.5, -25.5)):
            Circle(SKETCH5_R_2)
    extrude(amount=-CUT_EXTRUDE3_DEPTH, mode=Mode.SUBTRACT)

    # Sketch6 → Cut-Extrude4 (cut, up to next)
    with BuildSketch(Plane.XY.offset(62), mode=Mode.PRIVATE) as cut_extrude4_sk1:
        with Locations((0, 20.5)):
            Rectangle(SKETCH6_W, SKETCH6_H)
    cut_extrude4_tool1 = extrude(cut_extrude4_sk1.sketch, amount=-CUT_EXTRUDE4_REACH, mode=Mode.PRIVATE) & part.part
    add(cut_extrude4_tool1.solids().sort_by_distance((0, 20.5, 62))[0], mode=Mode.SUBTRACT)

    # Sketch7 → Cut-Extrude5 (cut, up to next)
    with BuildSketch(Plane.XY.offset(62), mode=Mode.PRIVATE) as cut_extrude5_sk1:
        with Locations((-25.5, 10.5)):
            Circle(SKETCH7_R)
    cut_extrude5_tool1 = extrude(cut_extrude5_sk1.sketch, amount=-CUT_EXTRUDE5_REACH, mode=Mode.PRIVATE) & part.part
    add(cut_extrude5_tool1.solids().sort_by_distance((-25.5, 10.5, 62))[0], mode=Mode.SUBTRACT)
    # Sketch7 → Cut-Extrude5 (cut, up to next)
    with BuildSketch(Plane.XY.offset(62), mode=Mode.PRIVATE) as cut_extrude5_sk2:
        with Locations((25.5, 10.5)):
            Circle(SKETCH7_R)
    cut_extrude5_tool2 = extrude(cut_extrude5_sk2.sketch, amount=-CUT_EXTRUDE5_REACH, mode=Mode.PRIVATE) & part.part
    add(cut_extrude5_tool2.solids().sort_by_distance((25.5, 10.5, 62))[0], mode=Mode.SUBTRACT)
    # Sketch7 → Cut-Extrude5 (cut, up to next)
    with BuildSketch(Plane.XY.offset(62), mode=Mode.PRIVATE) as cut_extrude5_sk3:
        with Locations((25.5, 28.5)):
            Circle(SKETCH7_R)
    cut_extrude5_tool3 = extrude(cut_extrude5_sk3.sketch, amount=-CUT_EXTRUDE5_REACH, mode=Mode.PRIVATE) & part.part
    add(cut_extrude5_tool3.solids().sort_by_distance((25.5, 28.5, 62))[0], mode=Mode.SUBTRACT)
    # Sketch7 → Cut-Extrude5 (cut, up to next)
    with BuildSketch(Plane.XY.offset(62), mode=Mode.PRIVATE) as cut_extrude5_sk4:
        with Locations((-25.5, 28.5)):
            Circle(SKETCH7_R)
    cut_extrude5_tool4 = extrude(cut_extrude5_sk4.sketch, amount=-CUT_EXTRUDE5_REACH, mode=Mode.PRIVATE) & part.part
    add(cut_extrude5_tool4.solids().sort_by_distance((-25.5, 28.5, 62))[0], mode=Mode.SUBTRACT)

    # Sketch8 → Boss-Extrude3 (add)
    with BuildSketch(Plane(origin=(0, 6, 0), x_dir=(1, 0, 0), z_dir=(0, 1, 0))):
        with BuildLine():
            Line((-36.587572106, 23.525266208), (-36.587572106, -23.525266208))
            ThreePointArc((-36.587572106, -23.525266208), (-33.587572106, -23.087572106), (-30.587572106, -23.525266208))
            Line((-30.587572106, -23.525266208), (-30.587572106, 23.525266208))
            ThreePointArc((-30.587572106, 23.525266208), (-33.587572106, 23.087572106), (-36.587572106, 23.525266208))
        make_face()
        with BuildLine():
            Line((30.587572106, 23.525266208), (30.587572106, -23.525266208))
            ThreePointArc((30.587572106, -23.525266208), (33.587572106, -23.087572106), (36.587572106, -23.525266208))
            Line((36.587572106, -23.525266208), (36.587572106, 23.525266208))
            ThreePointArc((36.587572106, 23.525266208), (33.587572106, 23.087572106), (30.587572106, 23.525266208))
        make_face()
    extrude(amount=BOSS_EXTRUDE3_DEPTH)

    # Fillet2
    fillet2_edges = [part.edges().sort_by_distance(p)[0] for p in [
        (-30.587572106, 20, -23.525266208),
        (-36.587572106, 20, -23.525266208),
        (-36.587572106, 20, 23.525266208),
        (-30.587572106, 20, 23.525266208),
        (30.587572106, 20, 23.525266208),
        (36.587572106, 20, 23.525266208),
        (36.587572106, 20, -23.525266208),
        (30.587572106, 20, -23.525266208),
        (30, 25.5, 43.455668497),
        (-30, 25.5, 43.455668497),
    ]]
    fillet(fillet2_edges, radius=FILLET2_R)

    # Sketch9 → Boss-Extrude4 (add)
    with BuildSketch(Plane(origin=(0, 6, 0), x_dir=(1, 0, 0), z_dir=(0, 1, 0))):
        with BuildLine():
            Line((-23.525266208, 30.587572106), (23.525266208, 30.587572106))
            ThreePointArc((23.525266208, 30.587572106), (23.087572106, 33.587572106), (23.525266208, 36.587572106))
            Line((23.525266208, 36.587572106), (-23.525266208, 36.587572106))
            ThreePointArc((-23.525266208, 36.587572106), (-23.087572106, 33.587572106), (-23.525266208, 30.587572106))
        make_face()
    extrude(amount=BOSS_EXTRUDE4_DEPTH)

    # Fillet3
    fillet3_edges = [part.edges().sort_by_distance(p)[0] for p in [
        (20, 33, 58),
        (20, 8, 58),
        (-20, 8, 58),
        (-20, 33, 58),
    ]]
    fillet(fillet3_edges, radius=FILLET3_R)


solid = part.part
